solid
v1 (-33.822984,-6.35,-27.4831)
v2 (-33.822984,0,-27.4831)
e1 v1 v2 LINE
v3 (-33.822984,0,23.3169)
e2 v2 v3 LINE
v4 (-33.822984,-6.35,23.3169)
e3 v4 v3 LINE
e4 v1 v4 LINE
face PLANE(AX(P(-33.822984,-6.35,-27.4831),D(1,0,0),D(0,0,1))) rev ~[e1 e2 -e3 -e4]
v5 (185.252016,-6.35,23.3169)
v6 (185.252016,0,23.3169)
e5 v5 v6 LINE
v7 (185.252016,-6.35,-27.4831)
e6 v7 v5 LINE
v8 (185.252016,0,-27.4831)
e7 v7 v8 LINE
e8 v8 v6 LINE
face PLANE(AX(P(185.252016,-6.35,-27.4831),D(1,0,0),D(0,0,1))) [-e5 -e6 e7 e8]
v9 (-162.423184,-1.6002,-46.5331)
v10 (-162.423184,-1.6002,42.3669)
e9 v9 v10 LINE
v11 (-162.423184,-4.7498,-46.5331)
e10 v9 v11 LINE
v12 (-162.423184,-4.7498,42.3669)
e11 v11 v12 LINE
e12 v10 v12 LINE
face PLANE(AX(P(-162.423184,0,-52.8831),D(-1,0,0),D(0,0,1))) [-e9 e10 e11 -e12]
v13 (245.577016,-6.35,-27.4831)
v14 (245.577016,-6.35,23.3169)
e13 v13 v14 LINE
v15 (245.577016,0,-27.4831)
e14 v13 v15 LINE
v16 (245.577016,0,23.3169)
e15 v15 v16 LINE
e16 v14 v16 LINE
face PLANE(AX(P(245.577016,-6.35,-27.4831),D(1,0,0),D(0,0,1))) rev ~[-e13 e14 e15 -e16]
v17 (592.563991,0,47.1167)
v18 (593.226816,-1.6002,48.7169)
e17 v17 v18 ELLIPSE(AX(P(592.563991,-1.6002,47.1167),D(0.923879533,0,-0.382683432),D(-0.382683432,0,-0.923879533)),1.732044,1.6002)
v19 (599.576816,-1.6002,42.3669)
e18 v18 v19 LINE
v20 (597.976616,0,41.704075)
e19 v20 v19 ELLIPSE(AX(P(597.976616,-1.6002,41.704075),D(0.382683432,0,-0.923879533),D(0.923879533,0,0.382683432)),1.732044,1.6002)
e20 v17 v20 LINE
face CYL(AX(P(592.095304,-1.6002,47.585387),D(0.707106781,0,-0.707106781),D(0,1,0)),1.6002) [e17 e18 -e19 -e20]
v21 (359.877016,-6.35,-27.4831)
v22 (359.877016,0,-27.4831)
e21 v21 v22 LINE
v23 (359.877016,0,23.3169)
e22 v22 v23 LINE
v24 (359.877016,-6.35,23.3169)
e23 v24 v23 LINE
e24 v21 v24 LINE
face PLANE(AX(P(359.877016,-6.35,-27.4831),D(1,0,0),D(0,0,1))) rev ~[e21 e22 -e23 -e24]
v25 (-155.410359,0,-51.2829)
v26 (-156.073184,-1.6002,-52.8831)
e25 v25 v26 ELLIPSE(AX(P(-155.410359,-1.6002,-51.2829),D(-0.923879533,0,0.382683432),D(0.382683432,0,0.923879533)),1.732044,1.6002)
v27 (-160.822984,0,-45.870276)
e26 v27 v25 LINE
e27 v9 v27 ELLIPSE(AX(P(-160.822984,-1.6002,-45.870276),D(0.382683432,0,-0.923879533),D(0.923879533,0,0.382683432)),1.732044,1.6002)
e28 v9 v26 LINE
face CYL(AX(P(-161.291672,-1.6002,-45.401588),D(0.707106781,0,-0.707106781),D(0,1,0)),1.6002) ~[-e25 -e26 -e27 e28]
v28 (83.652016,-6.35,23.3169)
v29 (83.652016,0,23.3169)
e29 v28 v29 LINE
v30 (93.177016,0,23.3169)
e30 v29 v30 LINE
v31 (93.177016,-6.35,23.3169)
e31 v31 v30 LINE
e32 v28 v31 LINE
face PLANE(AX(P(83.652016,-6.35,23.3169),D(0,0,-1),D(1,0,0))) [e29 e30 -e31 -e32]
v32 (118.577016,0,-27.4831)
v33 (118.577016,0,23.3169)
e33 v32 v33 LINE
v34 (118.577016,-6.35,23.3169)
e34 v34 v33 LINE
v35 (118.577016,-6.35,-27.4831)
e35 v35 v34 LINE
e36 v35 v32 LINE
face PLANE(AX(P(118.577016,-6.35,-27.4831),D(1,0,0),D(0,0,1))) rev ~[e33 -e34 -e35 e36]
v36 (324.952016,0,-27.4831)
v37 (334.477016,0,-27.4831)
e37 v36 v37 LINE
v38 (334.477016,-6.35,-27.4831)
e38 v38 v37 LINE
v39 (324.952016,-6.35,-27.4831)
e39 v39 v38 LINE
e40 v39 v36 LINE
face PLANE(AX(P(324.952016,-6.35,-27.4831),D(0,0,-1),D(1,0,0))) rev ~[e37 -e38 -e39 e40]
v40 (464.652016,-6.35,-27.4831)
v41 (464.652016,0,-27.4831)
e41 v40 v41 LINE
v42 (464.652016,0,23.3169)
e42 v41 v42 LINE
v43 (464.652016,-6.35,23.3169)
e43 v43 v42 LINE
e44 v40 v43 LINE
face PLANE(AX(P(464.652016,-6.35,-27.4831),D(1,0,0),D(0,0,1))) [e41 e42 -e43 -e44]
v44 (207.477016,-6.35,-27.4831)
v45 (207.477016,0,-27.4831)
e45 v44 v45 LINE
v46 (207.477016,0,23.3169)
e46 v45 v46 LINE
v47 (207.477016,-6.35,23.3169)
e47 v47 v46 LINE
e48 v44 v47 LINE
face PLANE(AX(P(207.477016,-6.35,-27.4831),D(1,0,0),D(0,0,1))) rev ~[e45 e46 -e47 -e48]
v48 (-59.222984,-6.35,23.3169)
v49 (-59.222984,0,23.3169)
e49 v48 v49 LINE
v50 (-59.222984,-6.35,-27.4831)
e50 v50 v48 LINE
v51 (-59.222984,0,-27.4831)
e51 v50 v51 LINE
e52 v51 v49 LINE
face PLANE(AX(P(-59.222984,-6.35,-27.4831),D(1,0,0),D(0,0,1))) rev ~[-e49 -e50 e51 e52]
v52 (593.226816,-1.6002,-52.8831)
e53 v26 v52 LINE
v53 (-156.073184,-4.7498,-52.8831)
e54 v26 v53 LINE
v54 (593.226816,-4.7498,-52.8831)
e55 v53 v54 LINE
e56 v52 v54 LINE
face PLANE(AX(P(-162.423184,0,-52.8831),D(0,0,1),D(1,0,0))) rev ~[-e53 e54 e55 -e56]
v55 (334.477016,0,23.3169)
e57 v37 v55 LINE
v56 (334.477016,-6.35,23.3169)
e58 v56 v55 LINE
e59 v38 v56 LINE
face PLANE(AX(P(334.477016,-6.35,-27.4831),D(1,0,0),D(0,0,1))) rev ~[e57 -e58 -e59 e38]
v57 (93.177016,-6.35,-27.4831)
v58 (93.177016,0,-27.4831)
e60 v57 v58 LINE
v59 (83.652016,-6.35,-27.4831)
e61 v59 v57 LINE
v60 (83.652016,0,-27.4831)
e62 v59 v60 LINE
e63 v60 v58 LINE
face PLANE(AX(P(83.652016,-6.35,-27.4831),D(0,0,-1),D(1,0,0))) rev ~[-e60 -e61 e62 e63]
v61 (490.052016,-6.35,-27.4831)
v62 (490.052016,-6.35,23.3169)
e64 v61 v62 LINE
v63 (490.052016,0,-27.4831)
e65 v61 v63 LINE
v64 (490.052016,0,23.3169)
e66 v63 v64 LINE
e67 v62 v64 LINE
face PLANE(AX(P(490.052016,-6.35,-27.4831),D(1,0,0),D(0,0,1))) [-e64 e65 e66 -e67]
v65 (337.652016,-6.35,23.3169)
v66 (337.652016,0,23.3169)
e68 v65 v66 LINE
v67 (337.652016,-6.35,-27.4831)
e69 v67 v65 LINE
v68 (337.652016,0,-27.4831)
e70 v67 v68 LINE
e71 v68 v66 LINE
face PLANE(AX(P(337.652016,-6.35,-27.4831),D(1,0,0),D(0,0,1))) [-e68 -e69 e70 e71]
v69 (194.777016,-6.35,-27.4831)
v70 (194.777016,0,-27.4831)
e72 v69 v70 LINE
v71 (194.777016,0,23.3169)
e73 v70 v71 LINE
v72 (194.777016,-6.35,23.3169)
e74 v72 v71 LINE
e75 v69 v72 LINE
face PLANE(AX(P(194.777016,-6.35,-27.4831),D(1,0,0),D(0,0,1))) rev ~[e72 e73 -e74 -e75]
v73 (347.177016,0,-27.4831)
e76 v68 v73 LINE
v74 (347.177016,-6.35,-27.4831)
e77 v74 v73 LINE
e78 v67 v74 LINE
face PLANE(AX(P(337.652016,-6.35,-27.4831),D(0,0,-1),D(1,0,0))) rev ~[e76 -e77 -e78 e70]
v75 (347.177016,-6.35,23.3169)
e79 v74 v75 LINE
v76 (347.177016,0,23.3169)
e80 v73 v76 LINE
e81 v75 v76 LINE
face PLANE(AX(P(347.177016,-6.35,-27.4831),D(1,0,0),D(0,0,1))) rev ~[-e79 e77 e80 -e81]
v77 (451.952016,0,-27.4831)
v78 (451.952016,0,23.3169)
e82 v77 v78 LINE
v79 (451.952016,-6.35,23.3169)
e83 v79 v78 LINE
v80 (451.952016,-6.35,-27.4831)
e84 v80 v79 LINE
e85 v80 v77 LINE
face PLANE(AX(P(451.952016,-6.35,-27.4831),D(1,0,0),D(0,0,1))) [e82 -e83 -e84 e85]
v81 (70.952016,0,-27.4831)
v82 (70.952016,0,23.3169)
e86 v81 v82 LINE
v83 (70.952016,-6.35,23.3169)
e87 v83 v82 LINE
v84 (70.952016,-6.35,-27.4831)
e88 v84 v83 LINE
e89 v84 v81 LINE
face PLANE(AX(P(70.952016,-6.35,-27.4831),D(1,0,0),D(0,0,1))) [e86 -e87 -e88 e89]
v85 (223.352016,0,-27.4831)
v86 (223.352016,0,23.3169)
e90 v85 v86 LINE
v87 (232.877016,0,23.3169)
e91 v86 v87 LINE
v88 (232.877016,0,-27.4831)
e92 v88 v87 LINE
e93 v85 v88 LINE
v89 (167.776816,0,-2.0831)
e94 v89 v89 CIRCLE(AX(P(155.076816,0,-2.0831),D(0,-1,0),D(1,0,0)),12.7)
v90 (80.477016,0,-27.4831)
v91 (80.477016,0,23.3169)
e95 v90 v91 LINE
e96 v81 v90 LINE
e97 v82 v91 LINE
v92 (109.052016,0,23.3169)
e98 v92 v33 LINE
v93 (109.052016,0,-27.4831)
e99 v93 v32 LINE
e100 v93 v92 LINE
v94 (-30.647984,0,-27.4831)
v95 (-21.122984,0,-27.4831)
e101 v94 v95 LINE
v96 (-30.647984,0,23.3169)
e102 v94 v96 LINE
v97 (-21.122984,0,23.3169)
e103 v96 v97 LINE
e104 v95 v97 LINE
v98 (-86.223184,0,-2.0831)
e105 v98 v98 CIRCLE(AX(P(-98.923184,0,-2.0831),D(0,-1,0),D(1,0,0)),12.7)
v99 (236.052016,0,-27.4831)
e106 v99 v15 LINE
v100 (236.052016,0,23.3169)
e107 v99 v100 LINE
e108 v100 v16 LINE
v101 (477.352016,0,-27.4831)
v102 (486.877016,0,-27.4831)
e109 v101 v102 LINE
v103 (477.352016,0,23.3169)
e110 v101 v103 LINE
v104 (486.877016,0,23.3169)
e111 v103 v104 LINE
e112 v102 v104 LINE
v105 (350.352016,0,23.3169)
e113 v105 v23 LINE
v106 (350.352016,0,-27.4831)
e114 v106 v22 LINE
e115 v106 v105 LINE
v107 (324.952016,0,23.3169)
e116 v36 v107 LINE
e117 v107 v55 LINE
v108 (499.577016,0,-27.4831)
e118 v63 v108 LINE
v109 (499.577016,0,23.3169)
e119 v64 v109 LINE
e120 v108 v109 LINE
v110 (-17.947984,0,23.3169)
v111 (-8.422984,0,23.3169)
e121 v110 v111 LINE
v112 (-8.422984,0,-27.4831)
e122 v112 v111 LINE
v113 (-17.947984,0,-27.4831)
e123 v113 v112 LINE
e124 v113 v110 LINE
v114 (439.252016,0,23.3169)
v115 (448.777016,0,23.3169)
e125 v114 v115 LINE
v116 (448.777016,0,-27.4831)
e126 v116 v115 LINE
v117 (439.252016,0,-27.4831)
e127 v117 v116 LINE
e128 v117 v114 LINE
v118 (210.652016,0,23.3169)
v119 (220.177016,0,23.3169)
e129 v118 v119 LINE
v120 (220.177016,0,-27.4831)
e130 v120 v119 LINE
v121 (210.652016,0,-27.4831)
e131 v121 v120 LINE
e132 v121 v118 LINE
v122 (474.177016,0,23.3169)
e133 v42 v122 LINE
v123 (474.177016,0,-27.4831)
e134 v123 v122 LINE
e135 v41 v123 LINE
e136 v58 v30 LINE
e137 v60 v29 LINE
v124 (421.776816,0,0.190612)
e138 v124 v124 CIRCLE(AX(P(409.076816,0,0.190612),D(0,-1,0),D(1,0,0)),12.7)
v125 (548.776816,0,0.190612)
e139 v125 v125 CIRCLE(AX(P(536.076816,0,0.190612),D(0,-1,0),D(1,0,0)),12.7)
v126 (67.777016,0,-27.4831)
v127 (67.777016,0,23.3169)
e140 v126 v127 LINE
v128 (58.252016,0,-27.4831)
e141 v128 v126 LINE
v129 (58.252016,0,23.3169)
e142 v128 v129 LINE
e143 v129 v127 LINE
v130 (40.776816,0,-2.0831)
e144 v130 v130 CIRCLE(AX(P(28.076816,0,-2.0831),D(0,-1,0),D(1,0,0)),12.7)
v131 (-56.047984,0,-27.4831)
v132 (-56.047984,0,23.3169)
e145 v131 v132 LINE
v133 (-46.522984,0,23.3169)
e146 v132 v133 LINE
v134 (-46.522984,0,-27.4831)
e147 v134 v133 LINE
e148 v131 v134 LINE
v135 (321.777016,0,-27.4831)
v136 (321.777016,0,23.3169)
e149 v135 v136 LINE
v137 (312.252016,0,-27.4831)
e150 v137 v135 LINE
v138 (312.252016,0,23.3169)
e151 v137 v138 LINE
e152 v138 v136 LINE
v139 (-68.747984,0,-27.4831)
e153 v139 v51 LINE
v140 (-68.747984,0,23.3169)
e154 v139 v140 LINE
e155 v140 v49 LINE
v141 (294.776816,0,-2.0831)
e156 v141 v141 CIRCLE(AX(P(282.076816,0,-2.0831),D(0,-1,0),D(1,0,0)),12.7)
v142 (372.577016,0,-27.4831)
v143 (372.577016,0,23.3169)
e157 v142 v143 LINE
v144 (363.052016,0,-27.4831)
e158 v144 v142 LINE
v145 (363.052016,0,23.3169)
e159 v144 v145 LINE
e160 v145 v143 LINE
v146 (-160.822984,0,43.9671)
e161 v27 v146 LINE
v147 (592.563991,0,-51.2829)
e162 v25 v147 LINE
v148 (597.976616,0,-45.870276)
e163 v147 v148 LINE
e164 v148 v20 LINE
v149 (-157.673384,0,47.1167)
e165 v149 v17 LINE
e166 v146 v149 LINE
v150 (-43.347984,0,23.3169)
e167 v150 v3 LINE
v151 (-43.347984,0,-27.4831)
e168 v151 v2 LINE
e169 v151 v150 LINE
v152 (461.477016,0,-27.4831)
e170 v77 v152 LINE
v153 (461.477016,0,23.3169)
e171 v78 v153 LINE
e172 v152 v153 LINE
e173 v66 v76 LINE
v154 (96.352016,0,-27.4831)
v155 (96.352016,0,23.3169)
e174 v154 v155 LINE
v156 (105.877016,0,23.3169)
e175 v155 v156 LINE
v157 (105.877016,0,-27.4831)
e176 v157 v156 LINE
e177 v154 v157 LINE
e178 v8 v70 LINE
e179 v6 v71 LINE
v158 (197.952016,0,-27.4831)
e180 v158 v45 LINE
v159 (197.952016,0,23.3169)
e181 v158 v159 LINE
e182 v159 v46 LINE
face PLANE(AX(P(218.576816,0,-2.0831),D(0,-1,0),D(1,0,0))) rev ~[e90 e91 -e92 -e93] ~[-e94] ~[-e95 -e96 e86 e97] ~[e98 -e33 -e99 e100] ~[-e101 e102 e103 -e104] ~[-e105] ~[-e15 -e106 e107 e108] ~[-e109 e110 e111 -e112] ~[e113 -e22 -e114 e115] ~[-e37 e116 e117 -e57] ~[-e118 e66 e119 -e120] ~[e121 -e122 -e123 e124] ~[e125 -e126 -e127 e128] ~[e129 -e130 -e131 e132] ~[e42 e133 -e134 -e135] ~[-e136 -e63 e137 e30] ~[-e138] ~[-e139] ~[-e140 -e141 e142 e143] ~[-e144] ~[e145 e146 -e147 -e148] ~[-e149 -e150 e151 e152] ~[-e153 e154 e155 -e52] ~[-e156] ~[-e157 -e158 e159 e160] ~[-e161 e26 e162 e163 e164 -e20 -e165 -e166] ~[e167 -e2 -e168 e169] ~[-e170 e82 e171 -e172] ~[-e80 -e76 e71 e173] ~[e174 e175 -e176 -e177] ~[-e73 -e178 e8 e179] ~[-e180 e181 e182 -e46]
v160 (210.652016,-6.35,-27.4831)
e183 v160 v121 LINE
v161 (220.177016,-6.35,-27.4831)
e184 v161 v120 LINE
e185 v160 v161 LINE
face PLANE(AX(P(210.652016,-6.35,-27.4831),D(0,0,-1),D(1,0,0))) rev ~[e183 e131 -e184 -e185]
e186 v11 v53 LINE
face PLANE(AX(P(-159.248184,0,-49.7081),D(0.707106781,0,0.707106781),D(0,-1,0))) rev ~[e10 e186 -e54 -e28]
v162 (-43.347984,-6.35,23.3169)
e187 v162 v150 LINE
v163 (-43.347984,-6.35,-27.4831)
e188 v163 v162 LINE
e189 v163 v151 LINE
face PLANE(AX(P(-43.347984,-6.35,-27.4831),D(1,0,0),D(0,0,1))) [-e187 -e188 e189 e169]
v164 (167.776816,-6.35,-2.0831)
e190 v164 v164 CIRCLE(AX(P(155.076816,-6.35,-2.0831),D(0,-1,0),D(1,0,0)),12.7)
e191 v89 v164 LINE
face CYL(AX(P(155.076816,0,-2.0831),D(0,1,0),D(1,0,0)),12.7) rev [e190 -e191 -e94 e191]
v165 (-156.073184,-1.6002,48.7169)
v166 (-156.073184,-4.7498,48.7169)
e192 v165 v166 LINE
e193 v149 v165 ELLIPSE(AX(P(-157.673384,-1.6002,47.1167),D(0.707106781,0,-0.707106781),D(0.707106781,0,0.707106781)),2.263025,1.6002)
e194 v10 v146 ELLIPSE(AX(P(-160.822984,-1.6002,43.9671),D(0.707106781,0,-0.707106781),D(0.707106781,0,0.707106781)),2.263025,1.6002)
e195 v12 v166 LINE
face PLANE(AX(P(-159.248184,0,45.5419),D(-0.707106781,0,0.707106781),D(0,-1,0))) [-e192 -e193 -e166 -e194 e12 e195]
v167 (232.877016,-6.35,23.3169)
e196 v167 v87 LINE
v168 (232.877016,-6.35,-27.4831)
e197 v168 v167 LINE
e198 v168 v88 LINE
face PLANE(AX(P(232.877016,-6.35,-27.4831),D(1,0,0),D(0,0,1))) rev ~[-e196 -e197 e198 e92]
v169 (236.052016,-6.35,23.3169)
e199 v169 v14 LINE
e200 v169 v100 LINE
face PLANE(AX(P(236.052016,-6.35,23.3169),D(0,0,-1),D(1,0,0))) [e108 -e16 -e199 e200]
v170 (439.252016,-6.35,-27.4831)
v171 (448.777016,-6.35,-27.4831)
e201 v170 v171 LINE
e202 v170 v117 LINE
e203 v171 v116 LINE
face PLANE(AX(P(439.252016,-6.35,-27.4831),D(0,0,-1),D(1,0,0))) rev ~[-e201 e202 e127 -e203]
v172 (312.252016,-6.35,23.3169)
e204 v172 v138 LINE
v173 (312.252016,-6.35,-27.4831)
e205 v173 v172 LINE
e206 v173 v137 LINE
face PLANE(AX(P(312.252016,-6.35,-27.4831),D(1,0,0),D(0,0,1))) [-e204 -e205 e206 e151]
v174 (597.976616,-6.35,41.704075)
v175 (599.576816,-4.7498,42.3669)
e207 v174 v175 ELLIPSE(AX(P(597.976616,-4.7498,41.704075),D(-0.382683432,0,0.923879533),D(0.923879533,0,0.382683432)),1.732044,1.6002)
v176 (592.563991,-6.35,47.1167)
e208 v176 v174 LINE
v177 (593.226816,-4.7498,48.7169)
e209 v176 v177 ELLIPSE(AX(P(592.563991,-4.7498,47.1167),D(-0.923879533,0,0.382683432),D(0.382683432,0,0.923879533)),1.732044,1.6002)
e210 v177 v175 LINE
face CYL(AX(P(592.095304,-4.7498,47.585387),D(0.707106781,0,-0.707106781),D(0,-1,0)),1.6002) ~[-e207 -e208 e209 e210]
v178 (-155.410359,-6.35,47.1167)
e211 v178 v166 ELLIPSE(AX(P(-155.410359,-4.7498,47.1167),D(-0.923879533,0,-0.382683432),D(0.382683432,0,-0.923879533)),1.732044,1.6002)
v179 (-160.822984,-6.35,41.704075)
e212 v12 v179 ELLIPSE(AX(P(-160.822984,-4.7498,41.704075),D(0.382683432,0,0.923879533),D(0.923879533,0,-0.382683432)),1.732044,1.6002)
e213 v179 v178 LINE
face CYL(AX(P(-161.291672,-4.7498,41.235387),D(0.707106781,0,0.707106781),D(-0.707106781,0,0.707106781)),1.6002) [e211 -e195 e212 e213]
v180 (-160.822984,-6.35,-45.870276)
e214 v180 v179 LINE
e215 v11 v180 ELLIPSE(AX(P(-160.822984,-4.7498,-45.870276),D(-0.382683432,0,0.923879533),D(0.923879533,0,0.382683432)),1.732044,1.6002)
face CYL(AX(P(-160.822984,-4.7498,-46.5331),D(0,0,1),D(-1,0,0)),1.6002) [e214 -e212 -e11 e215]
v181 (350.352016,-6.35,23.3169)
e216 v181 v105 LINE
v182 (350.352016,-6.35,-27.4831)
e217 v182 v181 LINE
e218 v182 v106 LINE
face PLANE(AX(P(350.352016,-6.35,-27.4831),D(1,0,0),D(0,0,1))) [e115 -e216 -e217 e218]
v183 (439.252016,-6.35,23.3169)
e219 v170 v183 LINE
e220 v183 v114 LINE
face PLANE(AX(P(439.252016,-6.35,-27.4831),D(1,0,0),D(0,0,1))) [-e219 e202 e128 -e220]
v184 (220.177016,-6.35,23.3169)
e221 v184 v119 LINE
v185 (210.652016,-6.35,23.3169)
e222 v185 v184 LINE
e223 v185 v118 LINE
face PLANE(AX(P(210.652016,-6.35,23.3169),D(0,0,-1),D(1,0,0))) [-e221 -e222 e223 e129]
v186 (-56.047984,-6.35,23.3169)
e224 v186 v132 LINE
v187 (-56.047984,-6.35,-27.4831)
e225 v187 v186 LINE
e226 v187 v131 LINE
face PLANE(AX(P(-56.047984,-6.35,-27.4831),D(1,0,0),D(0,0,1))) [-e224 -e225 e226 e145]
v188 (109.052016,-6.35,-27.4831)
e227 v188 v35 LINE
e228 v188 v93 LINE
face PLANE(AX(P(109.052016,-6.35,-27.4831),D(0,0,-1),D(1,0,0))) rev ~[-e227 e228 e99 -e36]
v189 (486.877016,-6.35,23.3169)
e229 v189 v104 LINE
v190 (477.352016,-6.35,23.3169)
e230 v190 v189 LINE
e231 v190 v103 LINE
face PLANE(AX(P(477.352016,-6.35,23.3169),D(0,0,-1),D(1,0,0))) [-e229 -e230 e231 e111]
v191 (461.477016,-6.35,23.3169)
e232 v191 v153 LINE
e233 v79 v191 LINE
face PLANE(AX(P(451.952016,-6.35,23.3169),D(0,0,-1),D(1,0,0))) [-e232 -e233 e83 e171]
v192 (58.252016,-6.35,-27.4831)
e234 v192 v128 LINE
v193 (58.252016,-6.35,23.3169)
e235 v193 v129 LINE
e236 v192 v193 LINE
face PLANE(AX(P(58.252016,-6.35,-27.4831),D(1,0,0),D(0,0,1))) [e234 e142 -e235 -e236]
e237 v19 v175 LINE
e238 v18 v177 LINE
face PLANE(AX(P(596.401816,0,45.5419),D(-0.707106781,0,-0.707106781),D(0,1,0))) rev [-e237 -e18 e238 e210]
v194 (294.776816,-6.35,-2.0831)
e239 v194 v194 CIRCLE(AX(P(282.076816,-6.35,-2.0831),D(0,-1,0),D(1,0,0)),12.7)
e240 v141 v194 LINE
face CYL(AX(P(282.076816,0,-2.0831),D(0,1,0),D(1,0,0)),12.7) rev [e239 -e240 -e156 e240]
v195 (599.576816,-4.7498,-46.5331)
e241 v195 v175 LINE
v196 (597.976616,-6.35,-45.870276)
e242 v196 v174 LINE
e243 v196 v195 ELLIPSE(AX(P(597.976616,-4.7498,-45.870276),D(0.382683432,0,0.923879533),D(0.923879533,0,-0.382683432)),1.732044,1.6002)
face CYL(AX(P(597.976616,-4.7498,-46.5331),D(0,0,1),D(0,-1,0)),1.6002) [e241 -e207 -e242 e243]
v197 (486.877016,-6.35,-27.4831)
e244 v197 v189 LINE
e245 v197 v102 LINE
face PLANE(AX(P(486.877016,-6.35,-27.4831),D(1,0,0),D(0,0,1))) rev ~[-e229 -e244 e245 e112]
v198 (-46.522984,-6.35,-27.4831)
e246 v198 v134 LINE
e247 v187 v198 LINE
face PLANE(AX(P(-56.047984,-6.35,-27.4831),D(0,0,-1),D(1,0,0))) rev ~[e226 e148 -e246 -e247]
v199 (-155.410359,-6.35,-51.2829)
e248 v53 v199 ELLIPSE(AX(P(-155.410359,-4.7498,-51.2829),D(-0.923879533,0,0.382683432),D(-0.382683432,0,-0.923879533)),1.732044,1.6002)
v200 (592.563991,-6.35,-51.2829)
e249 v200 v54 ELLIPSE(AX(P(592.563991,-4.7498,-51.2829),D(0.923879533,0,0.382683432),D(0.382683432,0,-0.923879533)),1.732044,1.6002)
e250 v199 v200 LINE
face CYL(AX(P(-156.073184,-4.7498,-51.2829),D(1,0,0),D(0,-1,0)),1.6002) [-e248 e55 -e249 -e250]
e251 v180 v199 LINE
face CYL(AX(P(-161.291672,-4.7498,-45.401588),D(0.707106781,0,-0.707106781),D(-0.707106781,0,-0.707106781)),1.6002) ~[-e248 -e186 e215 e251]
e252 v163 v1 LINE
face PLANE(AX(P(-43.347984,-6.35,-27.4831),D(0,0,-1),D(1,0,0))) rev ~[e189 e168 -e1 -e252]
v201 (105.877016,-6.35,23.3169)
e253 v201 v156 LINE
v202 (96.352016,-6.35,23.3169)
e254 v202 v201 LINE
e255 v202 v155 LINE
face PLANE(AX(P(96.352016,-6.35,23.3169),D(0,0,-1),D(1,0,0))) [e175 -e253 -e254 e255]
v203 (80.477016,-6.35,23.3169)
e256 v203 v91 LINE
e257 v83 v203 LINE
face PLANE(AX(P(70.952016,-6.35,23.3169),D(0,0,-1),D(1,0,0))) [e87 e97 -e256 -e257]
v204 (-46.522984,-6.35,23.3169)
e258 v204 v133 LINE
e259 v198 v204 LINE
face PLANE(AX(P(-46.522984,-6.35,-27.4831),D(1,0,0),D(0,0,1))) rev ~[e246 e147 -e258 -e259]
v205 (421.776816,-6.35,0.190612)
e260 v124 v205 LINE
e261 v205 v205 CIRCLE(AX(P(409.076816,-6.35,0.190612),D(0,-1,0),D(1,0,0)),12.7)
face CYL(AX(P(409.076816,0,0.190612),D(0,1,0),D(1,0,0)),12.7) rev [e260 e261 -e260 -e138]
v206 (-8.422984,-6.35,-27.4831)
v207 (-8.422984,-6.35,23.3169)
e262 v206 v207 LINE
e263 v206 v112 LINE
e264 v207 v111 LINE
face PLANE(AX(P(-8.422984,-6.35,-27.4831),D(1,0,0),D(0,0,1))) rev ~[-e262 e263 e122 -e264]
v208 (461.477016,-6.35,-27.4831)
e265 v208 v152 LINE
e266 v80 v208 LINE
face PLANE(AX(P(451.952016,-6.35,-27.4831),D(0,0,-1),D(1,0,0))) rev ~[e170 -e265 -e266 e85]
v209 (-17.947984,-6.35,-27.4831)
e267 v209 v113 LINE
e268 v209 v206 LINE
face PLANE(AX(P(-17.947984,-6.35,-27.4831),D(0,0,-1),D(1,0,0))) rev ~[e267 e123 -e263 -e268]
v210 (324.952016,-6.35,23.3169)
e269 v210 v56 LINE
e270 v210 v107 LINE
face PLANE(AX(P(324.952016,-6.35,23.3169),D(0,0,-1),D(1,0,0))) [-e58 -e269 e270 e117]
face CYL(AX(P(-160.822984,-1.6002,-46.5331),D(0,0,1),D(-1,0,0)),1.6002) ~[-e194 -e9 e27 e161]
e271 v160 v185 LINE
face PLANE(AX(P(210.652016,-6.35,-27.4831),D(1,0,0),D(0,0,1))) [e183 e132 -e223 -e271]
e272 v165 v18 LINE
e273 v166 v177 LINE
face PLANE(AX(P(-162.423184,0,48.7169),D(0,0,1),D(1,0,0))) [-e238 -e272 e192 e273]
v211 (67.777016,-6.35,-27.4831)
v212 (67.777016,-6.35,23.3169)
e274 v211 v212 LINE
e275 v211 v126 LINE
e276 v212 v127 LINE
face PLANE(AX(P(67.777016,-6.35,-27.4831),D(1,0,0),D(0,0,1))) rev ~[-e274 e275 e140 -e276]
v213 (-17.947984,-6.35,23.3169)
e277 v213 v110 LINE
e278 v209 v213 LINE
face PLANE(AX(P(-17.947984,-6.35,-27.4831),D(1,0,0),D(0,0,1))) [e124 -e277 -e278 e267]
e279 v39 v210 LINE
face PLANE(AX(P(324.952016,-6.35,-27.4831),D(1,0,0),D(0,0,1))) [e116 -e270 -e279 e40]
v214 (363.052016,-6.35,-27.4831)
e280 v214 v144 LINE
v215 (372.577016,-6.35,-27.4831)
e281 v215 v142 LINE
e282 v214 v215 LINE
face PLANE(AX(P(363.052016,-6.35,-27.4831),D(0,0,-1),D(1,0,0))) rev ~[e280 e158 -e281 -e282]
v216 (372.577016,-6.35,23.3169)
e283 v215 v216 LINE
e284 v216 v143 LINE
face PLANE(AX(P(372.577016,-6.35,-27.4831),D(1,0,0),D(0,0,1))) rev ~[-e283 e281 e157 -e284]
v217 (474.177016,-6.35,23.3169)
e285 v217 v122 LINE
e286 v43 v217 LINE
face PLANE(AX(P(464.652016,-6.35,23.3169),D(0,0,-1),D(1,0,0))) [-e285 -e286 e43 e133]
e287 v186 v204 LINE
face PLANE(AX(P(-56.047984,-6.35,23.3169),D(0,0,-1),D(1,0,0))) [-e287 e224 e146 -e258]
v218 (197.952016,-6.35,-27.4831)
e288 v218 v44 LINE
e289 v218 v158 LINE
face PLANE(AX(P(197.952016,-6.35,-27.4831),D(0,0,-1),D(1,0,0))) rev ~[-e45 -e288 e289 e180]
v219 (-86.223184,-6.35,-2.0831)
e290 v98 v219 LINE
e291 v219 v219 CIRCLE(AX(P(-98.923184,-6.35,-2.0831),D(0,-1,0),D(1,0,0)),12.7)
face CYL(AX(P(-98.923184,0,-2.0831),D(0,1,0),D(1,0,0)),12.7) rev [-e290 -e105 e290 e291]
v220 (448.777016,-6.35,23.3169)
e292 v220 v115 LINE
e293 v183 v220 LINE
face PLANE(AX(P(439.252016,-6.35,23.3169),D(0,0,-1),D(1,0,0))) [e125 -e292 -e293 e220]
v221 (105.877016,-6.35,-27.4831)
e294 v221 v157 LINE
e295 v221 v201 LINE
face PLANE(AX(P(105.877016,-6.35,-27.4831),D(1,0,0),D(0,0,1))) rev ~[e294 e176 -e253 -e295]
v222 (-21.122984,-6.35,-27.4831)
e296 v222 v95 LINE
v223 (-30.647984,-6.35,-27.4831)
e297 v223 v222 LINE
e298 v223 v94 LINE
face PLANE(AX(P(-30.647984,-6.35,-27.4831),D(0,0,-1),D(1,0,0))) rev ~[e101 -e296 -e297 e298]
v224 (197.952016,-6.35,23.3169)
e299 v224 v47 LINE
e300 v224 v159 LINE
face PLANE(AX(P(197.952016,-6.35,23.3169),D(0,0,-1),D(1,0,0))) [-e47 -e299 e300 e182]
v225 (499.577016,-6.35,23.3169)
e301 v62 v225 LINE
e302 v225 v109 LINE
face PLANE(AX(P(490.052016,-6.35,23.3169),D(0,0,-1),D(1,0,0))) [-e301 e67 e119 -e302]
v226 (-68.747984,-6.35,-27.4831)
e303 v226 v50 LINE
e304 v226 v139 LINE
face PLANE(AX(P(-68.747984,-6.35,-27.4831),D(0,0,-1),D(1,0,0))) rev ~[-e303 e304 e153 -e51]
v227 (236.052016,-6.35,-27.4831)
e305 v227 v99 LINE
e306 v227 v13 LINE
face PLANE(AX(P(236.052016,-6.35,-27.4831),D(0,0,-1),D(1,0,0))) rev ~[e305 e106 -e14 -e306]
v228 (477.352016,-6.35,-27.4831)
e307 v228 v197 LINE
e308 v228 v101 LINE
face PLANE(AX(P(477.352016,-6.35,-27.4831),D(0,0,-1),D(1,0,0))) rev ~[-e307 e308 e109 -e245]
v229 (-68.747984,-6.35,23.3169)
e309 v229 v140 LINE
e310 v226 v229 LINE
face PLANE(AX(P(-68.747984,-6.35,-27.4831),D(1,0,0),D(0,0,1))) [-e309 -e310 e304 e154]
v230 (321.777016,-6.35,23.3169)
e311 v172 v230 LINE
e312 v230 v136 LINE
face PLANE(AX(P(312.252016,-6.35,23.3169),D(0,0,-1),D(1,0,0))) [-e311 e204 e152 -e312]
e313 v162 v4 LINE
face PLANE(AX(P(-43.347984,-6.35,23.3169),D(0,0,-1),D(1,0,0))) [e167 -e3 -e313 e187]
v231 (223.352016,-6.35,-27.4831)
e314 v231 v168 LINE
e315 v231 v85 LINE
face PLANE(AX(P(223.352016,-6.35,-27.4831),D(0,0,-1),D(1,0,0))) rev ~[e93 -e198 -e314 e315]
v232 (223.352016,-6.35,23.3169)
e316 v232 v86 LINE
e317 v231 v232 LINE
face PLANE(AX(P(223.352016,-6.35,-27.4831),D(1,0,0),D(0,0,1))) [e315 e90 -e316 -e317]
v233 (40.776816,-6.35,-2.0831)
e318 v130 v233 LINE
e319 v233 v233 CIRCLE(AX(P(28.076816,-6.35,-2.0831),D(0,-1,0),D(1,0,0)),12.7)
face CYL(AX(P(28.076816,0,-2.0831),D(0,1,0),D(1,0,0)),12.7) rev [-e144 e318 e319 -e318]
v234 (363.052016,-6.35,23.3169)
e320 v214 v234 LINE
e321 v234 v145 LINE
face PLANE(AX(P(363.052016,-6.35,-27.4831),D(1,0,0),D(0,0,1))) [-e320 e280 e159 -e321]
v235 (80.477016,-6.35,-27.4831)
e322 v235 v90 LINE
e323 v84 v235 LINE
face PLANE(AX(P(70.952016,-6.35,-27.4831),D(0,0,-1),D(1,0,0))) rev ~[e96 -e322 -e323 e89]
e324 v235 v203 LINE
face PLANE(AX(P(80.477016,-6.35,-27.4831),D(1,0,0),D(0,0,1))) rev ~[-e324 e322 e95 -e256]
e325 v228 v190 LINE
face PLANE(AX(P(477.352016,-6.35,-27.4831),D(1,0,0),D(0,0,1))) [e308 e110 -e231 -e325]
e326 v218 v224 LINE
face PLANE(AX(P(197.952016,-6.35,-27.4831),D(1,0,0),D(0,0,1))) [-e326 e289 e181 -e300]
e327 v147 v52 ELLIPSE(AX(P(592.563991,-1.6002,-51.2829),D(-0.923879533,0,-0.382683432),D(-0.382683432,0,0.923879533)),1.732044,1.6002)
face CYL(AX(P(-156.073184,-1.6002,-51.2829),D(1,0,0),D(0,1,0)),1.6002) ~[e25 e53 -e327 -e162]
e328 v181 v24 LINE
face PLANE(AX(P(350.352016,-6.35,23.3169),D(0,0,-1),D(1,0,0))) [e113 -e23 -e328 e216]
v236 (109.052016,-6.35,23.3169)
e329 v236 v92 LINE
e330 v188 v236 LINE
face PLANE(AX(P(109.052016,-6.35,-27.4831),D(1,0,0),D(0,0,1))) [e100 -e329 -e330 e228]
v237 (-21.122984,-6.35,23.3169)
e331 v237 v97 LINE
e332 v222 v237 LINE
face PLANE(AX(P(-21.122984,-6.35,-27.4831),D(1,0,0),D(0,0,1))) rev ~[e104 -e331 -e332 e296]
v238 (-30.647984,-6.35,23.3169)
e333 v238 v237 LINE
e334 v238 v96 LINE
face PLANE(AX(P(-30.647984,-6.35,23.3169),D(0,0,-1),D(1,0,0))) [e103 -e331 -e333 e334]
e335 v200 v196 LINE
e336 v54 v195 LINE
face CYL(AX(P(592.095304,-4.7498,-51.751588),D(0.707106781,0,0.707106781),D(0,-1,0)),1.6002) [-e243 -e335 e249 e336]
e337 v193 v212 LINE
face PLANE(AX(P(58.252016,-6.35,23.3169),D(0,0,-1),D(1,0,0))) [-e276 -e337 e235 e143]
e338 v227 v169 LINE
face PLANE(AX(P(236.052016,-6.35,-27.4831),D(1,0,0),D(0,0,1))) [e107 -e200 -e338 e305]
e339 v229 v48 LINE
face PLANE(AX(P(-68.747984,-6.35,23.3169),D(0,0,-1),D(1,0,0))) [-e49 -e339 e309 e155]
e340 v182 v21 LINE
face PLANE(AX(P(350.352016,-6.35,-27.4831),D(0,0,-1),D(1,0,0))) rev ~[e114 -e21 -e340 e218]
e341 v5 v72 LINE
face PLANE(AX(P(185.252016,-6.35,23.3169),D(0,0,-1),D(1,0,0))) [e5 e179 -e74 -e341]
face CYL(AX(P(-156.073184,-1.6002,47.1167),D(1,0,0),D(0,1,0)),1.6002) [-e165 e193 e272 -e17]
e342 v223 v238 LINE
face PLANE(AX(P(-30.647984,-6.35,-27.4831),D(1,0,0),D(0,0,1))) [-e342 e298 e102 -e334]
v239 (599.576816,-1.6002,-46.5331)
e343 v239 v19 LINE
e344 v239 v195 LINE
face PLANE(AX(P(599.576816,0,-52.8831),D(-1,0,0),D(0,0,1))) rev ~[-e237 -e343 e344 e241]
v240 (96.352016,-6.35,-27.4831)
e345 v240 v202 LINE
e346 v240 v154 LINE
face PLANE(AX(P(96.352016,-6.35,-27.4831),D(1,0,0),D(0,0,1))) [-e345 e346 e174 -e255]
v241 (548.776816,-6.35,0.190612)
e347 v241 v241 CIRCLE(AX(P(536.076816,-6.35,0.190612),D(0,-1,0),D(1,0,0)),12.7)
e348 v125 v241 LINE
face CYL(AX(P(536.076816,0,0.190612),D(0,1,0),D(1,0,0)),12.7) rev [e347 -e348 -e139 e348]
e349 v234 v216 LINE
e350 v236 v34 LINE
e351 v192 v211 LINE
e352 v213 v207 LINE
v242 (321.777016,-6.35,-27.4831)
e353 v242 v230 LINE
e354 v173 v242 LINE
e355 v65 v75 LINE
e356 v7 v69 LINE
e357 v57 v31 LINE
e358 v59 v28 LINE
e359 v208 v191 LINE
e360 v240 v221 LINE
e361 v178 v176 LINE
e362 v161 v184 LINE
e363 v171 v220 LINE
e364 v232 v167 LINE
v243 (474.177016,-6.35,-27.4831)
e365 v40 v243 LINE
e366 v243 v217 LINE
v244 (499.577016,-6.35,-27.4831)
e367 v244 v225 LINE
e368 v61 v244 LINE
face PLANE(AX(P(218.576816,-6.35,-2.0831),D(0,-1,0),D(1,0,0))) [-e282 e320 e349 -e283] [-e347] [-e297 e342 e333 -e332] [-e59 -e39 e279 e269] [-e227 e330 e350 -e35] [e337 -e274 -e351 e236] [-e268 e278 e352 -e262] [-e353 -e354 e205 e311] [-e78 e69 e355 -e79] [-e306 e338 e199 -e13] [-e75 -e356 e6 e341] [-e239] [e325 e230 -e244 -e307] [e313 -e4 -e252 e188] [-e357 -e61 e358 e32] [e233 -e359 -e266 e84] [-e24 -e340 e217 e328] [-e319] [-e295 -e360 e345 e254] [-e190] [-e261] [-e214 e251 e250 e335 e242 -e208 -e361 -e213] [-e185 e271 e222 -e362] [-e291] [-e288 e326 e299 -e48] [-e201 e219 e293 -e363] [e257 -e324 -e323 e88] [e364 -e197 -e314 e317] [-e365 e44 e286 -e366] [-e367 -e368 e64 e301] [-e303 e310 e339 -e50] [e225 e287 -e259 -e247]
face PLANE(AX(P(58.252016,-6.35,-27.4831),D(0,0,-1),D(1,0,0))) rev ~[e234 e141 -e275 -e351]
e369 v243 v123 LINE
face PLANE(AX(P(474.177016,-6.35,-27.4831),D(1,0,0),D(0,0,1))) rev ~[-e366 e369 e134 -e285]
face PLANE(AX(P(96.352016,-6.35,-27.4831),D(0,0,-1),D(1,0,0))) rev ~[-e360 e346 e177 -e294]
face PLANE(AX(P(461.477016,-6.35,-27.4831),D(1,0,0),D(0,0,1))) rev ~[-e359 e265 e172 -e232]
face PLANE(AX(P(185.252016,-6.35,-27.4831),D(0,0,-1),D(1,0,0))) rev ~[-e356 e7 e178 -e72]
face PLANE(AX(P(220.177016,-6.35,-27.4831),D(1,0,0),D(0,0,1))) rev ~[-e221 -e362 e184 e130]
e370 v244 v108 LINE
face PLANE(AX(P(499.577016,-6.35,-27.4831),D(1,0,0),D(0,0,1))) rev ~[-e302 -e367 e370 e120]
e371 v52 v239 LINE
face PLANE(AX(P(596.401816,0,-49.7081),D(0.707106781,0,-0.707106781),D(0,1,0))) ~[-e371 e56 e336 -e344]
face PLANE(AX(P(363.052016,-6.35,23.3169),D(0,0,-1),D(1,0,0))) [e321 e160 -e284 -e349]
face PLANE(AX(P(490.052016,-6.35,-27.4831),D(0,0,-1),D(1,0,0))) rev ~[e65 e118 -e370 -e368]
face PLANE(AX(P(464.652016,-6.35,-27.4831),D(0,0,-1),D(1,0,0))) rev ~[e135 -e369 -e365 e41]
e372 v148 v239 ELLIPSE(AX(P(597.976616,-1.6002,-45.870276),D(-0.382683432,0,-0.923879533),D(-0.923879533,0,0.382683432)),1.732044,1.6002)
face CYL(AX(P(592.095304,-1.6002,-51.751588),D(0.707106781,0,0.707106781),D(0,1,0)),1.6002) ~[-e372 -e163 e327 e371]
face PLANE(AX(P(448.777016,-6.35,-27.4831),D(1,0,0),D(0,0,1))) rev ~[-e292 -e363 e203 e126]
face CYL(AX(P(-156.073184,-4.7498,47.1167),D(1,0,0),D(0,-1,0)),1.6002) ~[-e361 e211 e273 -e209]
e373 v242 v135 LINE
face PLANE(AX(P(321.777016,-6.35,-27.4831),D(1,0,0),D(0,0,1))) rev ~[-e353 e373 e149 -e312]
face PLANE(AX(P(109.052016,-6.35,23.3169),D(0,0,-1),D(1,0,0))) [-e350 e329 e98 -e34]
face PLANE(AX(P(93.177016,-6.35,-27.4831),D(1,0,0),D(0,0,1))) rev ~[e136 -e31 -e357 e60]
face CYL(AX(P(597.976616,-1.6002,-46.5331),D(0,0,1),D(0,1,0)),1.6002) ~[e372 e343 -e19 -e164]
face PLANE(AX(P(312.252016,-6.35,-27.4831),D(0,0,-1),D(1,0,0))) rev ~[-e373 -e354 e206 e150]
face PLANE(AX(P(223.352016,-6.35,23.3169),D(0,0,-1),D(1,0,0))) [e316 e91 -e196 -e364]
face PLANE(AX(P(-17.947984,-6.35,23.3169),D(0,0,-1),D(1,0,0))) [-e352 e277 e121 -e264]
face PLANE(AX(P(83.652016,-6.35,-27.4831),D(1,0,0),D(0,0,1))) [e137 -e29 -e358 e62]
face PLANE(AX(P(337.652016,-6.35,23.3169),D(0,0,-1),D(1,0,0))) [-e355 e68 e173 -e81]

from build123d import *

# Parameters (mm, degrees)
F0_W     = 762
F0_H     = 101.6
F0_R     = 12.7
F2_DEPTH = 6.35
F3_SIZE  = 6.35
F4_W     = 9.525
F4_H     = 50.8
F5_DEPTH = 6.351
F6_R     = 1.6002


with BuildPart() as f2:
    # F0 (on Front) → F2 (new body)
    with BuildSketch(Plane.XZ):
        with Locations((218.576816025, -2.0831003785)):
            Rectangle(F0_W, F0_H)
        with Locations((-98.923183975, -2.0831003785)):
            Circle(F0_R, mode=Mode.SUBTRACT)
        with Locations((28.076816025, -2.0831003785)):
            Circle(F0_R, mode=Mode.SUBTRACT)
        with Locations((155.076816025, -2.0831003785)):
            Circle(F0_R, mode=Mode.SUBTRACT)
        with Locations((282.076816025, -2.0831003785)):
            Circle(F0_R, mode=Mode.SUBTRACT)
        with Locations((409.076816025, 0.1906121615)):
            Circle(F0_R, mode=Mode.SUBTRACT)
        with Locations((536.076816025, 0.1906121615)):
            Circle(F0_R, mode=Mode.SUBTRACT)
    extrude(amount=F2_DEPTH)

    # F3
    f3_edges = [f2.edges().sort_by_distance(p)[0] for p in [
        (-162.423184, -3.175, 48.7169),
        (-162.423184, -3.175, -52.8831),
        (599.576816, -3.175, -52.8831),
        (599.576816, -3.175, 48.7169),
    ]]
    chamfer(f3_edges, length=F3_SIZE)

    # F4 (on face) → F5 (cut, through all)
    with BuildSketch(Plane.XZ.offset(6.35)):
        with Locations((-63.985483975, -2.0831003785)):
            Rectangle(F4_W, F4_H)
        with Locations((-51.285483975, -2.0831003785)):
            Rectangle(F4_W, F4_H)
        with Locations((-38.585483975, -2.0831003785)):
            Rectangle(F4_W, F4_H)
        with Locations((-25.885483975, -2.0831003785)):
            Rectangle(F4_W, F4_H)
        with Locations((-13.185483975, -2.0831003785)):
            Rectangle(F4_W, F4_H)
        with Locations((63.014516025, -2.0831003785)):
            Rectangle(F4_W, F4_H)
        with Locations((75.714516025, -2.0831003785)):
            Rectangle(F4_W, F4_H)
        with Locations((88.414516025, -2.0831003785)):
            Rectangle(F4_W, F4_H)
        with Locations((101.114516025, -2.0831003785)):
            Rectangle(F4_W, F4_H)
        with Locations((113.814516025, -2.0831003785)):
            Rectangle(F4_W, F4_H)
        with Locations((190.014516025, -2.0831003785)):
            Rectangle(F4_W, F4_H)
        with Locations((202.714516025, -2.0831003785)):
            Rectangle(F4_W, F4_H)
        with Locations((215.414516025, -2.0831003785)):
            Rectangle(F4_W, F4_H)
        with Locations((228.114516025, -2.0831003785)):
            Rectangle(F4_W, F4_H)
        with Locations((240.814516025, -2.0831003785)):
            Rectangle(F4_W, F4_H)
        with Locations((317.014516025, -2.0831003785)):
            Rectangle(F4_W, F4_H)
        with Locations((329.714516025, -2.0831003785)):
            Rectangle(F4_W, F4_H)
        with Locations((342.414516025, -2.0831003785)):
            Rectangle(F4_W, F4_H)
        with Locations((355.114516025, -2.0831003785)):
            Rectangle(F4_W, F4_H)
        with Locations((367.814516025, -2.0831003785)):
            Rectangle(F4_W, F4_H)
        with Locations((444.014516025, -2.0831003785)):
            Rectangle(F4_W, F4_H)
        with Locations((456.714516025, -2.0831003785)):
            Rectangle(F4_W, F4_H)
        with Locations((469.414516025, -2.0831003785)):
            Rectangle(F4_W, F4_H)
        with Locations((482.114516025, -2.0831003785)):
            Rectangle(F4_W, F4_H)
        with Locations((494.814516025, -2.0831003785)):
            Rectangle(F4_W, F4_H)
    extrude(amount=-F5_DEPTH, mode=Mode.SUBTRACT)

    # F6
    f6_edges = [f2.edges().sort_by_distance(p)[0] for p in [
        (218.576816, -6.35, 48.7169),
        (-162.423184, 0, -2.0831),
        (-159.248184, -6.35, 45.5419),
        (-162.423184, -6.35, -2.0831),
        (-159.248184, -6.35, -49.7081),
        (218.576816, -6.35, -52.8831),
        (596.401816, -6.35, -49.7081),
        (599.576816, -6.35, -2.0831),
        (596.401816, -6.35, 45.5419),
        (596.401816, 0, 45.5419),
        (218.576816, 0, 48.7169),
        (599.576816, 0, -2.0831),
        (596.401816, 0, -49.7081),
        (218.576816, 0, -52.8831),
        (-159.248184, 0, -49.7081),
    ]]
    fillet(f6_edges, radius=F6_R)


solid = f2.part
